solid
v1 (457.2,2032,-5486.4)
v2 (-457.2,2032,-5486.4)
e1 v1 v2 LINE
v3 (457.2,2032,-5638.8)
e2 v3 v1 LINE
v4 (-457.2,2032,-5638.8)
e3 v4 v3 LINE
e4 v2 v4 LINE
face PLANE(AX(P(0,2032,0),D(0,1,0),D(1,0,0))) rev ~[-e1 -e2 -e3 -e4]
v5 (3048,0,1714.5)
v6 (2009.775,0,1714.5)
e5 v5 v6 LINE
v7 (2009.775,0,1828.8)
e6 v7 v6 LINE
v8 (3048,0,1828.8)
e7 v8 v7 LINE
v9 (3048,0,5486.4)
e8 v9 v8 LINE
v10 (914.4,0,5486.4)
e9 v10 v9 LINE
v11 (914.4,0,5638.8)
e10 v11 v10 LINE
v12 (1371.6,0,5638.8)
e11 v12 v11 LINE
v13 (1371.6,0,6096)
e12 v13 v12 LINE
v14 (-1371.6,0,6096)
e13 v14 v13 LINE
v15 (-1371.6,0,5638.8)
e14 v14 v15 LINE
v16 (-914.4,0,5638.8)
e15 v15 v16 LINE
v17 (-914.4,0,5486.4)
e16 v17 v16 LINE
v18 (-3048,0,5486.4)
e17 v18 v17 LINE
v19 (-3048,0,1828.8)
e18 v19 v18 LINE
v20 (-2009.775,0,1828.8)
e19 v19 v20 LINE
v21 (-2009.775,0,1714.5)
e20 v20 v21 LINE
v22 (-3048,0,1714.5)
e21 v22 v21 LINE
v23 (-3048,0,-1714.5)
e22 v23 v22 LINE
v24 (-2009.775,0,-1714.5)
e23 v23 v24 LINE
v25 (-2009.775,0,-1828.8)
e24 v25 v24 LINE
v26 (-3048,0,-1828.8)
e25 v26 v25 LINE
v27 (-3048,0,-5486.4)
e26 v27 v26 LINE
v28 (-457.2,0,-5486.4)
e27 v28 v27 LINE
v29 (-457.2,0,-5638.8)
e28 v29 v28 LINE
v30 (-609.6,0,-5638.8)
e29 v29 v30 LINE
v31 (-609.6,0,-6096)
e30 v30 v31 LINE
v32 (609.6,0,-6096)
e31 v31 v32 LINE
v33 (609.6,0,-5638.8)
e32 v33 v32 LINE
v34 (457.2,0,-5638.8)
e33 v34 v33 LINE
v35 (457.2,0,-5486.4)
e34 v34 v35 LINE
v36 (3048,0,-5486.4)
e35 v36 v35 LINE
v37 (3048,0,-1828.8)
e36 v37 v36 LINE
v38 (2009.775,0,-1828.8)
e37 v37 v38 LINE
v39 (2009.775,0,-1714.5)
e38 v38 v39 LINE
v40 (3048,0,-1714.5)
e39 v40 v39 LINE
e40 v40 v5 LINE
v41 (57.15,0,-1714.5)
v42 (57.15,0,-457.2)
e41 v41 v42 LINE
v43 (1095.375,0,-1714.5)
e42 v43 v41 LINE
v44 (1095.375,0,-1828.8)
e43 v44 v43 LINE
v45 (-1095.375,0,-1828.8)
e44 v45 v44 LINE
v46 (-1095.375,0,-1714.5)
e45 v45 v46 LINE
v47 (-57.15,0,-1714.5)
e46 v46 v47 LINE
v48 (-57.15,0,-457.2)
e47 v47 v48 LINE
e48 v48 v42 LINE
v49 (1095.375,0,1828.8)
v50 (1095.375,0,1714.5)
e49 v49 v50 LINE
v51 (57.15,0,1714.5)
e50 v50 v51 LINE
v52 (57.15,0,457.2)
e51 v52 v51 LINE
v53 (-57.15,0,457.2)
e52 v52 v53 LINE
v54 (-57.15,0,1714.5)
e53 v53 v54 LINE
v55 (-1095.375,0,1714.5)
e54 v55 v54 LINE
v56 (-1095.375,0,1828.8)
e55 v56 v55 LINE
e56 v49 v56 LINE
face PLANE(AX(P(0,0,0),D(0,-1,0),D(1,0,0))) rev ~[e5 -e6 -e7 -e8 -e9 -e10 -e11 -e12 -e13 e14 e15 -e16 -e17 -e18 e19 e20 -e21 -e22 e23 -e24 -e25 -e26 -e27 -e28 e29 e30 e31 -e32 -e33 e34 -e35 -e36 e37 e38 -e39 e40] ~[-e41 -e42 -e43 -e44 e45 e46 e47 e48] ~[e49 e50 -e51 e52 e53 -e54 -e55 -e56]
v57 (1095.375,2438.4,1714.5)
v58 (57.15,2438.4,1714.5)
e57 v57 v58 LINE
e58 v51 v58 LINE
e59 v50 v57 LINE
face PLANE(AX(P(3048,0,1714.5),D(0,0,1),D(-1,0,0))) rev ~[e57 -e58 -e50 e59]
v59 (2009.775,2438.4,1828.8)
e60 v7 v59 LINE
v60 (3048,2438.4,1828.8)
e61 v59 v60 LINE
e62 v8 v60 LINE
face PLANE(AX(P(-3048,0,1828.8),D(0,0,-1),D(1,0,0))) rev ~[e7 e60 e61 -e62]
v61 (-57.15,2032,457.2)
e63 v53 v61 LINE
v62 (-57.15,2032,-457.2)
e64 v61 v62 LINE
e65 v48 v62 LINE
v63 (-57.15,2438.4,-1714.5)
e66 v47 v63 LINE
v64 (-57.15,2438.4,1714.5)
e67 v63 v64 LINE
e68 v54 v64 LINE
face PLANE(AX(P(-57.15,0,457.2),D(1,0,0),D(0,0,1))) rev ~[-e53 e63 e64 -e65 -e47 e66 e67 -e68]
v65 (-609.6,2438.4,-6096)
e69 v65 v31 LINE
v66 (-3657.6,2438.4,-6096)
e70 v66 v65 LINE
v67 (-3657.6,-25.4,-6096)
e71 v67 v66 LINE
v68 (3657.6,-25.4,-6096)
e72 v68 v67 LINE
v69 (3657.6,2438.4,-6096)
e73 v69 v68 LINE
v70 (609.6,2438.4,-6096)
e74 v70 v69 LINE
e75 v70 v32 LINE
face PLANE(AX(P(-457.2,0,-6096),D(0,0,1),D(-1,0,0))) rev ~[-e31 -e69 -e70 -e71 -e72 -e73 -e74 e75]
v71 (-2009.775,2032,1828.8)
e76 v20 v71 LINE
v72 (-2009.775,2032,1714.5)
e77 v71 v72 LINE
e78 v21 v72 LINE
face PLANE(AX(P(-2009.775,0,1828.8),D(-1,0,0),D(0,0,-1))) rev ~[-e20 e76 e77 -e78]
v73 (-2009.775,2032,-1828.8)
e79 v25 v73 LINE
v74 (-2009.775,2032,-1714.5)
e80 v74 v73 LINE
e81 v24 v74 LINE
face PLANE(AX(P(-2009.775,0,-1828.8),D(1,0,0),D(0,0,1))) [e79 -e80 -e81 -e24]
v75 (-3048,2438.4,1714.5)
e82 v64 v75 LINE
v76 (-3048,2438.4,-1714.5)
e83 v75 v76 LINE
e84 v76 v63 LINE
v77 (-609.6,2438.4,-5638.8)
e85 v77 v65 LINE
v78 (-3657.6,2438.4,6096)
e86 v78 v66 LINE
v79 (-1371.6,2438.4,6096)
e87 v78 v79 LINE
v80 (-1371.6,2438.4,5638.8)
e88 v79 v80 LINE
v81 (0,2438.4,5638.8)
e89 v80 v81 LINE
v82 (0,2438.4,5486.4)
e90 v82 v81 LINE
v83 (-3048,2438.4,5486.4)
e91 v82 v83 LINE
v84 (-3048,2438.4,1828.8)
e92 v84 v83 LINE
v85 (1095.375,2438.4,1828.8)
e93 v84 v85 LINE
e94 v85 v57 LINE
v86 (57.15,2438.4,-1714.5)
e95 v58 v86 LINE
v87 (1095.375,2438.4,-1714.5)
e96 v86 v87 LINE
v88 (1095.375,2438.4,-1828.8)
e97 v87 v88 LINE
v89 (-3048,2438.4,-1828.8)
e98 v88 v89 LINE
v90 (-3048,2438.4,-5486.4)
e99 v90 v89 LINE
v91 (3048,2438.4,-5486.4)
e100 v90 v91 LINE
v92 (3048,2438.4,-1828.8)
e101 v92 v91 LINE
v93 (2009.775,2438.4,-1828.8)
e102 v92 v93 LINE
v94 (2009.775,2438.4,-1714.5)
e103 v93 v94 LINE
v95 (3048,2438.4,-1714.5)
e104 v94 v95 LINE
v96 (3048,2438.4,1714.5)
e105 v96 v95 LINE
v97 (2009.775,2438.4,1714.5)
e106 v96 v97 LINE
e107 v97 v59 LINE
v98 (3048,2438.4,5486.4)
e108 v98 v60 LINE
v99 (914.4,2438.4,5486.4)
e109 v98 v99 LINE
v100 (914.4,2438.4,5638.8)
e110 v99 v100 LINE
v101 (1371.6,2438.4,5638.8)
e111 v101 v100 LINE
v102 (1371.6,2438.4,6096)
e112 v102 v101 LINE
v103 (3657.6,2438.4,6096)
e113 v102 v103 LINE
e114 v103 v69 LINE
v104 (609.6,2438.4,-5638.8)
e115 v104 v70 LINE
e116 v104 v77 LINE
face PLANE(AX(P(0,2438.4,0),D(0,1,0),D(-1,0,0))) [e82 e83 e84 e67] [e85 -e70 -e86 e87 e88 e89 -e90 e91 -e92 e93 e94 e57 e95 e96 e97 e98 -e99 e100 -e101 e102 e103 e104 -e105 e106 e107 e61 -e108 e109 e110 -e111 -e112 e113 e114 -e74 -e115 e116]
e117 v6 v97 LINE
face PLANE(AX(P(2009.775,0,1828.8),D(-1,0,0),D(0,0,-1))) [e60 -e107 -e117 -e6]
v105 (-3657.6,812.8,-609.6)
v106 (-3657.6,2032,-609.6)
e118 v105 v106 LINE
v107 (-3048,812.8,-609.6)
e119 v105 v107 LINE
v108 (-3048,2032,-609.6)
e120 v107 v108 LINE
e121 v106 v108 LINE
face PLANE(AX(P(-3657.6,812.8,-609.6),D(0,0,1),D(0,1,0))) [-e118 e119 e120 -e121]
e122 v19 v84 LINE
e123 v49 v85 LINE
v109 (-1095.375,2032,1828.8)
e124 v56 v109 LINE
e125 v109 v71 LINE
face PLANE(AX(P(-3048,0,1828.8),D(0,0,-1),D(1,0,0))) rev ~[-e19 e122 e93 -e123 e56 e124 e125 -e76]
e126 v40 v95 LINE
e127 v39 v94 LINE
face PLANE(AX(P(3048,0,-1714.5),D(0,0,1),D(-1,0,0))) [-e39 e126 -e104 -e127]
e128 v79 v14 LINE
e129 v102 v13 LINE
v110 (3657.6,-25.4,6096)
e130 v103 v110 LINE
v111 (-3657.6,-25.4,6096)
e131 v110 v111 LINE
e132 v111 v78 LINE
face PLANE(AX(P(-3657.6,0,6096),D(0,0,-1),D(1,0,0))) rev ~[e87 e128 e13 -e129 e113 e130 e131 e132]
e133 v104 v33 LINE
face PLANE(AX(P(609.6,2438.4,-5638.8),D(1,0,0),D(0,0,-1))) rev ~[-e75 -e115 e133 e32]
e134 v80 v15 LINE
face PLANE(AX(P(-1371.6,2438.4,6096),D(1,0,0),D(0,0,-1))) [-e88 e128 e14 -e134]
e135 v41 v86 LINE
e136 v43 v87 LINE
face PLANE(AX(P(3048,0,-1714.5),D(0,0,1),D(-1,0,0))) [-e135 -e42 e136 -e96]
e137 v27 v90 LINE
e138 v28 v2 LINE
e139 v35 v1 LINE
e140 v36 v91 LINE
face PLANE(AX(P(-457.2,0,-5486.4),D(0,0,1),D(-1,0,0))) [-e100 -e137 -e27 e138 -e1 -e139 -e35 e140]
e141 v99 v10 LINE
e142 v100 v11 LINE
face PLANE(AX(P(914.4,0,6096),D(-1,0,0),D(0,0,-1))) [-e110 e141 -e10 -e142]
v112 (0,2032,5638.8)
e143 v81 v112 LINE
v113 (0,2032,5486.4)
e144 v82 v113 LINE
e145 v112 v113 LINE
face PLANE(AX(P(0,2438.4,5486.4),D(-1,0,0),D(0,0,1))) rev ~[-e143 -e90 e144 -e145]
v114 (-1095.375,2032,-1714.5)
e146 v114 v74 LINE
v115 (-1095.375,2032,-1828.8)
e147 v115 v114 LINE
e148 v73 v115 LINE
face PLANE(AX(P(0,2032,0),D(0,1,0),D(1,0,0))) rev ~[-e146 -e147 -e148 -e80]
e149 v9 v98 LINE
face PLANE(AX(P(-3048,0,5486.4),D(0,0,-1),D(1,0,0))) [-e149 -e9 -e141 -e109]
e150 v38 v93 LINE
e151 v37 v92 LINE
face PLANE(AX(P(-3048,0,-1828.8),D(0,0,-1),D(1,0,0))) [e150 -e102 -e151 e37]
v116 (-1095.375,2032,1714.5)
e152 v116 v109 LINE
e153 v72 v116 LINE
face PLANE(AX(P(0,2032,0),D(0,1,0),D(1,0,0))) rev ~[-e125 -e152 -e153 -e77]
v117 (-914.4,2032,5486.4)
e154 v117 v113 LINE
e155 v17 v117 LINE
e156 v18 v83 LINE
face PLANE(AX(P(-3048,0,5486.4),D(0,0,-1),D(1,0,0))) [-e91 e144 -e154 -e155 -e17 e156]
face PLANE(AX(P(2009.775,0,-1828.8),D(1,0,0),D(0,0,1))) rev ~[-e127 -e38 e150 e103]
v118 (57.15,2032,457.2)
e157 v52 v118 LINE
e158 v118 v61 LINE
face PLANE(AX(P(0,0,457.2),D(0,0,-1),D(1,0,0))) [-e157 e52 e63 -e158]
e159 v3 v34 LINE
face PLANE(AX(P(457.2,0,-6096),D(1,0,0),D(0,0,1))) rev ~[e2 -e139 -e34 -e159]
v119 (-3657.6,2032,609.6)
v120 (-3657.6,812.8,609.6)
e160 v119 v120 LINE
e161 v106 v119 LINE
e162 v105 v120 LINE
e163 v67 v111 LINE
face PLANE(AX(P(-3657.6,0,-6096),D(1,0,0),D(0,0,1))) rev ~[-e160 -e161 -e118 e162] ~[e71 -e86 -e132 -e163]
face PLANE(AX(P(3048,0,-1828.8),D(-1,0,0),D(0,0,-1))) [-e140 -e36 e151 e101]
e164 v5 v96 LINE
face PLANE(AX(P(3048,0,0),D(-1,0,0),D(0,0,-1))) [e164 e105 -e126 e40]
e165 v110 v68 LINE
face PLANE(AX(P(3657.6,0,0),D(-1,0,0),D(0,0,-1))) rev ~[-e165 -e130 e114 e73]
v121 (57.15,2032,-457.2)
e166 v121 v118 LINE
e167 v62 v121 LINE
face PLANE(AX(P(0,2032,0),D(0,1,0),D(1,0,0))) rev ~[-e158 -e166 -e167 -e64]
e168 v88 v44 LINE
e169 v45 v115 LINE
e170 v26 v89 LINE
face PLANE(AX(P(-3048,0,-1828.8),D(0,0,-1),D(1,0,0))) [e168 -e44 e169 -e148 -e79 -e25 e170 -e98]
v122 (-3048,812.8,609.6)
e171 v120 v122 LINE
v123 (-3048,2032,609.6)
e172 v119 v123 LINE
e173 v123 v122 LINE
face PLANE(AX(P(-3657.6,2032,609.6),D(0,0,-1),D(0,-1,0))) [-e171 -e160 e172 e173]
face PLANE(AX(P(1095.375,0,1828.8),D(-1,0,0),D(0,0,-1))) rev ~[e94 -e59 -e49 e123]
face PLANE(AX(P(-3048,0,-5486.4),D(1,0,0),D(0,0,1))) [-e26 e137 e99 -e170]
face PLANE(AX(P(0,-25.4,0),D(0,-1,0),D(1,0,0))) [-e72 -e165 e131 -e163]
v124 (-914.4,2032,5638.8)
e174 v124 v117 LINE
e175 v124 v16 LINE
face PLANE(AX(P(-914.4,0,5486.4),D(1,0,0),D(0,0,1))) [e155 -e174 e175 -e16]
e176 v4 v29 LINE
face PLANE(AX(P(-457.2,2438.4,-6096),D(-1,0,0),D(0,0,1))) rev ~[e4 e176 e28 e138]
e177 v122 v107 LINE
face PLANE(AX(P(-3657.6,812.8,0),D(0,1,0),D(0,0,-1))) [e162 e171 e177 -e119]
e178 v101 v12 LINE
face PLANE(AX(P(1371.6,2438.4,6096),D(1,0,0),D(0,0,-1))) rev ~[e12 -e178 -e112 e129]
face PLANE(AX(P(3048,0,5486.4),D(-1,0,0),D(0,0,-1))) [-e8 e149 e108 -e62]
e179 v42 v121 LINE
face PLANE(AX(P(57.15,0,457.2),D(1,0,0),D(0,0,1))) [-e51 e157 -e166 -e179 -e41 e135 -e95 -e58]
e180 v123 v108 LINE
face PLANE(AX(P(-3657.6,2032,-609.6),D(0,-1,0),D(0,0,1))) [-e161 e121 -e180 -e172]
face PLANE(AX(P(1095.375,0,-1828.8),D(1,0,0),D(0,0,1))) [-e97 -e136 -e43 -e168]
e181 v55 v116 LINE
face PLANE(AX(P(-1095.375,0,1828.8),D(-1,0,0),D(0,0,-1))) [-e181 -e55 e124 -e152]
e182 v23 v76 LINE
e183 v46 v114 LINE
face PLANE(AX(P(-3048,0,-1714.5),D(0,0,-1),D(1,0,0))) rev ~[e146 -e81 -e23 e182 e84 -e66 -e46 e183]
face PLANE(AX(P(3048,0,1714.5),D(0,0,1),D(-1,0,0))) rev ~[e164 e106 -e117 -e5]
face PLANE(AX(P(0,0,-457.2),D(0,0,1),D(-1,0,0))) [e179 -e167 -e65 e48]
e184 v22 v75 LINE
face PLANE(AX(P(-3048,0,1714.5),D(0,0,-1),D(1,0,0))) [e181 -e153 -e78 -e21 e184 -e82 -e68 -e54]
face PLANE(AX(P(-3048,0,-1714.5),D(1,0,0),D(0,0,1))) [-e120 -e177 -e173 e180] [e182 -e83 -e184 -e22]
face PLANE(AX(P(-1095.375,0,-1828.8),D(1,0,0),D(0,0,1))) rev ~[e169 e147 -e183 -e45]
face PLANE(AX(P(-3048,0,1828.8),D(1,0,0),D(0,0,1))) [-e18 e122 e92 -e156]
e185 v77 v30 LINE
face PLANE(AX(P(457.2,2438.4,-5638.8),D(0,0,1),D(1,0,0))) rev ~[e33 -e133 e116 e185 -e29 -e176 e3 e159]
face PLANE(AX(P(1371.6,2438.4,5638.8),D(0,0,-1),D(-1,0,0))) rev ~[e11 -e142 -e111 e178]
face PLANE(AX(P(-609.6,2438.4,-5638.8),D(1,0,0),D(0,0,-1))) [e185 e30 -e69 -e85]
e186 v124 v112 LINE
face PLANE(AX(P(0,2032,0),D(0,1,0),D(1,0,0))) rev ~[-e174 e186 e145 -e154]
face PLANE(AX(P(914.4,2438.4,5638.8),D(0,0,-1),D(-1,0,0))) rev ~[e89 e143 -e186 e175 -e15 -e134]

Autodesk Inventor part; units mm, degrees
ref_plane "YZ Plane" through (0, 0, 0) normal (1, 0, 0) x (0, 1, 0)
ref_plane "XZ Plane" through (0, 0, 0) normal (0, 1, 0) x (-1, 0, 0)
ref_plane "XY Plane" through (0, 0, 0) normal (0, 0, 1) x (1, 0, 0)
sketch "Sketch1" plane through (0, 0, 0) normal (0, 1, 0) x (-1, 0, 0)
  line L0 (3657.6, -6096) -> (3657.6, 6096)
  line L1 (-3657.6, 6096) -> (-3657.6, -6096)
  line L2 (-5120.64, 0) -> (5120.64, 0) projected
  line L3 (0, -23842.3169) -> (0, 22994.4703) projected
  line L4 (-3048, 1714.5) -> (-3048, -1714.5)
  line L5 (3048, -5486.4) -> (3048, -1828.8)
  line L6 (3048, -1714.5) -> (3048, 1714.5)
  line L7 (3048, 1828.8) -> (3048, 5486.4)
  line L8 (-3048, -1828.8) -> (-3048, -5486.4)
  line L9 (-3048, 5486.4) -> (-3048, 1828.8)
  line L10 (-3048, 1714.5) -> (-3048, -1714.5)
  line L11 (-2009.775, -1828.8) -> (-2009.775, -1714.5)
  line L12 (-1095.375, -1828.8) -> (-1095.375, -1714.5)
  line L13 (-3048, -1714.5) -> (-2009.775, -1714.5)
  line L14 (-1095.375, -1714.5) -> (-57.15, -1714.5)
  line L15 (-3048, -1828.8) -> (-2009.775, -1828.8)
  line L16 (2009.775, -1828.8) -> (2009.775, -1714.5)
  line L17 (1095.375, -1828.8) -> (1095.375, -1714.5)
  line L18 (3048, -1714.5) -> (2009.775, -1714.5)
  line L19 (1095.375, -1714.5) -> (57.15, -1714.5)
  line L20 (3048, -1828.8) -> (2009.775, -1828.8)
  line L21 (1095.375, -1828.8) -> (-1095.375, -1828.8)
  line L22 (-2009.775, -1828.8) -> (-3048, -1828.8)
  line L23 (-1095.375, -1828.8) -> (1095.375, -1828.8)
  line L24 (2009.775, -1828.8) -> (3048, -1828.8)
  line L25 (57.15, -1714.5) -> (1095.375, -1714.5)
  line L26 (2009.775, -1714.5) -> (3048, -1714.5)
  line L27 (-2009.775, 1828.8) -> (-2009.775, 1714.5)
  line L28 (-1095.375, 1828.8) -> (-1095.375, 1714.5)
  line L29 (-3048, 1714.5) -> (-2009.775, 1714.5)
  line L30 (-1095.375, 1714.5) -> (-57.15, 1714.5)
  line L31 (-3048, 1828.8) -> (-2009.775, 1828.8)
  line L32 (3048, 1714.5) -> (2009.775, 1714.5)
  line L33 (3048, 1828.8) -> (2009.775, 1828.8)
  line L34 (2009.775, 1828.8) -> (2009.775, 1714.5)
  line L35 (1095.375, 1828.8) -> (1095.375, 1714.5)
  line L36 (1095.375, 1714.5) -> (57.15, 1714.5)
  line L37 (1095.375, 1828.8) -> (-1095.375, 1828.8)
  line L38 (-2009.775, 1828.8) -> (-3048, 1828.8)
  line L39 (-1095.375, 1828.8) -> (1095.375, 1828.8)
  line L40 (2009.775, 1828.8) -> (3048, 1828.8)
  line L41 (57.15, 1714.5) -> (1095.375, 1714.5)
  line L42 (2009.775, 1714.5) -> (3048, 1714.5)
  line L43 (-57.15, -457.2) -> (57.15, -457.2)
  line L44 (57.15, 457.2) -> (-57.15, 457.2)
  line L45 (-457.2, -6096) -> (-457.2, -5486.4)
  line L46 (457.2, -6096) -> (457.2, -5486.4)
  line L47 (-3048, -5486.4) -> (-457.2, -5486.4)
  line L48 (457.2, -5486.4) -> (3048, -5486.4)
  line L49 (-3657.6, -6096) -> (-457.2, -6096)
  line L50 (457.2, -6096) -> (3657.6, -6096)
  line L51 (914.4, 5486.4) -> (914.4, 6096)
  line L52 (-914.4, 6096) -> (-914.4, 5486.4)
  line L53 (3048, 5486.4) -> (914.4, 5486.4)
  line L54 (-914.4, 5486.4) -> (-3048, 5486.4)
  line L55 (3657.6, 6096) -> (914.4, 6096)
  line L56 (-914.4, 6096) -> (-3657.6, 6096)
  line L57 (-57.15, -1714.5) -> (-57.15, -457.2)
  line L58 (-57.15, 457.2) -> (-57.15, 1714.5)
  line L59 (-57.15, 1714.5) -> (-57.15, 457.2)
  line L60 (-57.15, -457.2) -> (-57.15, -1714.5)
  line L61 (57.15, -1714.5) -> (57.15, -457.2)
  line L62 (57.15, 457.2) -> (57.15, 1714.5)
  line L63 (57.15, 1714.5) -> (57.15, 457.2)
  line L64 (57.15, -457.2) -> (57.15, -1714.5)
  line L65 (-3048, 5486.4) -> (-3048, 1828.8)
  line L66 (-3048, 1828.8) -> (-2009.775, 1828.8)
  line L67 (-2009.775, 1828.8) -> (-2009.775, 1714.5)
  line L68 (-2009.775, 1714.5) -> (-3048, 1714.5)
  line L69 (-3048, 1714.5) -> (-3048, -1714.5)
  line L70 (-3048, -1714.5) -> (-2009.775, -1714.5)
  line L71 (-2009.775, -1714.5) -> (-2009.775, -1828.8)
  line L72 (-2009.775, -1828.8) -> (-3048, -1828.8)
  line L73 (-3048, -1828.8) -> (-3048, -5486.4)
  line L74 (-3048, -5486.4) -> (-457.2, -5486.4)
  line L75 (457.2, -5486.4) -> (3048, -5486.4)
  line L76 (3048, -5486.4) -> (3048, -1828.8)
  line L77 (3048, -1828.8) -> (2009.775, -1828.8)
  line L78 (2009.775, -1828.8) -> (2009.775, -1714.5)
  line L79 (2009.775, -1714.5) -> (3048, -1714.5)
  line L80 (3048, 1714.5) -> (3048, -1714.5)
  line L81 (3048, 1714.5) -> (2009.775, 1714.5)
  line L82 (2009.775, 1714.5) -> (2009.775, 1828.8)
  line L83 (2009.775, 1828.8) -> (3048, 1828.8)
  line L84 (3048, 1828.8) -> (3048, 5486.4)
  point P0 (0, 0)
  point P1 (0, 23842.3169)
  point P2 (0, -22994.4703)
  dimension "d2" = 7315.2
  dimension "d10" = 609.6
  dimension "d13" = 1038.225
  dimension "d14" = 914.4
  dimension "d17" = 114.3
  dimension "d18" = 1038.225
  dimension "d19" = 1038.225
  dimension "d20" = 914.4
  dimension "d21" = 914.4
  dimension "d23" = 609.6
  dimension "d24" = 4267.2
  dimension "d25" = 1828.8
  dimension "d26" = 12192
  dimension "d27" = 609.6
  dimension "d28" = 114.3
extrude "Extrusion1" add sketch "Sketch1" along normal blind 2438.4
sketch "Sketch2" plane through (-3657.6, 0, -6096) normal (-1, 0, 0) x (0, 0, 1)
  line L0 (0, 0) -> (12192, 0) projected
  line L1 (5486.4, 2032) -> (6705.6, 2032)
  line L2 (6705.6, 2032) -> (6705.6, 812.8)
  line L3 (6705.6, 812.8) -> (5486.4, 812.8)
  line L4 (5486.4, 812.8) -> (5486.4, 2032)
  line L5 (6096, 2926.08) -> (6096, -487.68) projected
  point P0 (6096, 0)
  dimension "d31" = 1219.2
  dimension "d33" = 1219.2
  dimension "d34" = 812.8
extrude "Extrusion2" cut sketch "Sketch2" against normal up to surface (609.6 mm away)
sketch "Sketch3" plane through (0, 2438.4, 0) normal (0, 1, 0) x (1, 0, 0)
  line L0 (57.15, 1714.5) -> (1095.375, 1714.5) projected
  line L1 (1095.375, 1714.5) -> (1095.375, 1828.8) projected
  line L2 (1095.375, 1828.8) -> (-1095.375, 1828.8) projected
  line L3 (-1095.375, 1828.8) -> (-1095.375, 1714.5) projected
  line L4 (-1095.375, 1714.5) -> (-57.15, 1714.5) projected
  line L5 (-57.15, 1714.5) -> (-57.15, 457.2) projected
  line L6 (-57.15, 457.2) -> (57.15, 457.2) projected
  line L7 (57.15, 457.2) -> (57.15, 1714.5) projected
  line L8 (-57.15, -1714.5) -> (-1095.375, -1714.5) projected
  line L9 (-1095.375, -1714.5) -> (-1095.375, -1828.8) projected
  line L10 (-1095.375, -1828.8) -> (1095.375, -1828.8) projected
  line L11 (1095.375, -1828.8) -> (1095.375, -1714.5) projected
  line L12 (1095.375, -1714.5) -> (57.15, -1714.5) projected
  line L13 (57.15, -1714.5) -> (57.15, -457.2) projected
  line L14 (57.15, -457.2) -> (-57.15, -457.2) projected
  line L15 (-57.15, -457.2) -> (-57.15, -1714.5) projected
  line L16 (3657.6, 6096) -> (457.2, 6096) projected
  line L17 (457.2, 6096) -> (457.2, 5486.4) projected
  line L18 (457.2, 5486.4) -> (3048, 5486.4) projected
  line L19 (3048, 5486.4) -> (3048, 1828.8) projected
  line L20 (3048, 1828.8) -> (2009.775, 1828.8) projected
  line L21 (2009.775, 1828.8) -> (2009.775, 1714.5) projected
  line L22 (2009.775, 1714.5) -> (3048, 1714.5) projected
  line L23 (3048, 1714.5) -> (3048, -1714.5) projected
  line L24 (3048, -1714.5) -> (2009.775, -1714.5) projected
  line L25 (2009.775, -1714.5) -> (2009.775, -1828.8) projected
  line L26 (2009.775, -1828.8) -> (3048, -1828.8) projected
  line L27 (3048, -1828.8) -> (3048, -5486.4) projected
  line L28 (3048, -5486.4) -> (914.4, -5486.4) projected
  line L29 (914.4, -5486.4) -> (914.4, -6096) projected
  line L30 (914.4, -6096) -> (3657.6, -6096) projected
  line L31 (3657.6, -6096) -> (3657.6, 6096) projected
  line L32 (-457.2, 6096) -> (457.2, 6096)
  line L33 (457.2, 6096) -> (457.2, 5486.4)
  line L34 (457.2, 5486.4) -> (-457.2, 5486.4)
  line L35 (-457.2, 5486.4) -> (-457.2, 6096)
  line L36 (-2009.775, 1828.8) -> (-1095.375, 1828.8)
  line L37 (-1095.375, 1828.8) -> (-1095.375, 1714.5)
  line L38 (-1095.375, 1714.5) -> (-2009.775, 1714.5)
  line L39 (-2009.775, 1714.5) -> (-2009.775, 1828.8)
  line L40 (1095.375, 1828.8) -> (2009.775, 1828.8)
  line L41 (2009.775, 1828.8) -> (2009.775, 1714.5)
  line L42 (2009.775, 1714.5) -> (1095.375, 1714.5)
  line L43 (1095.375, 1714.5) -> (1095.375, 1828.8)
  line L44 (-57.15, 457.2) -> (57.15, 457.2)
  line L45 (57.15, 457.2) -> (57.15, -457.2)
  line L46 (57.15, -457.2) -> (-57.15, -457.2)
  line L47 (-57.15, -457.2) -> (-57.15, 457.2)
  line L48 (1095.375, -1714.5) -> (2009.775, -1714.5)
  line L49 (2009.775, -1714.5) -> (2009.775, -1828.8)
  line L50 (2009.775, -1828.8) -> (1095.375, -1828.8)
  line L51 (1095.375, -1828.8) -> (1095.375, -1714.5)
  line L52 (-2009.775, -1714.5) -> (-1095.375, -1714.5)
  line L53 (-1095.375, -1714.5) -> (-1095.375, -1828.8)
  line L54 (-1095.375, -1828.8) -> (-2009.775, -1828.8)
  line L55 (-2009.775, -1828.8) -> (-2009.775, -1714.5)
  line L56 (-914.4, -5486.4) -> (914.4, -5486.4)
  line L57 (914.4, -5486.4) -> (914.4, -6096)
  line L58 (914.4, -6096) -> (-914.4, -6096)
  line L59 (-914.4, -6096) -> (-914.4, -5486.4)
  line L60 (1095.375, 1828.8) -> (2009.775, 1828.8)
  line L61 (2009.775, 1828.8) -> (2009.775, 1714.5)
  line L62 (2009.775, 1714.5) -> (1095.375, 1714.5)
  line L63 (1095.375, 1714.5) -> (1095.375, 1828.8)
  point P0 (0, 0)
extrude "Extrusion3" add sketch "Sketch3" against normal blind 406.4 contours L1 L40 L21 L42 | L45 L14 L47 L6 | L3 L38 L39 L36 | L48 L25 L50 L11 | L9 L54 L55 L52 | L34 L35 L32 L17 | L29 L58 L59 L56
sketch "Sketch5" plane through (0, 0, 0) normal (0, -1, 0) x (1, 0, 0)
  line L0 (3657.6, -6096) -> (457.2, -6096) projected
  line L1 (3657.6, 6096) -> (3657.6, -6096) projected
  line L2 (914.4, 6096) -> (3657.6, 6096) projected
  line L3 (914.4, 5486.4) -> (914.4, 6096) projected
  line L4 (3048, 5486.4) -> (914.4, 5486.4) projected
  line L5 (3048, 1828.8) -> (3048, 5486.4) projected
  line L6 (2009.775, 1828.8) -> (3048, 1828.8) projected
  line L7 (2009.775, 1714.5) -> (2009.775, 1828.8) projected
  line L8 (3048, 1714.5) -> (2009.775, 1714.5) projected
  line L9 (3048, -1714.5) -> (3048, 1714.5) projected
  line L10 (2009.775, -1714.5) -> (3048, -1714.5) projected
  line L11 (2009.775, -1828.8) -> (2009.775, -1714.5) projected
  line L12 (3048, -1828.8) -> (2009.775, -1828.8) projected
  line L13 (3048, -5486.4) -> (3048, -1828.8) projected
  line L14 (457.2, -5486.4) -> (3048, -5486.4) projected
  line L15 (457.2, -6096) -> (457.2, -5486.4) projected
  line L16 (-3657.6, 6096) -> (3657.6, 6096)
  line L17 (3657.6, 6096) -> (3657.6, -6096)
  line L18 (3657.6, -6096) -> (-3657.6, -6096)
  line L19 (-3657.6, -6096) -> (-3657.6, 6096)
  point P0 (0, 0)
extrude "Extrusion5" add sketch "Sketch5" along normal blind 25.4
sketch "Sketch6" plane through (0, 2438.4, 0) normal (0, 1, 0) x (1, 0, 0)
  line L0 (-3048, 5486.4) -> (3048, 5486.4) projected
  line L1 (3048, -5486.4) -> (-3048, -5486.4) projected
  line L2 (457.2, 5486.4) -> (457.2, 6096) projected
  line L3 (-457.2, 6096) -> (-457.2, 5486.4) projected
  line L4 (-914.4, -6096) -> (-914.4, -5486.4) projected
  line L5 (914.4, -6096) -> (-914.4, -6096) projected
  line L6 (914.4, -5486.4) -> (914.4, -6096) projected
  line L7 (3048, -5486.4) -> (914.4, -5486.4) projected
  line L8 (3048, -1828.8) -> (3048, -5486.4) projected
  line L9 (2009.775, -1828.8) -> (3048, -1828.8) projected
  line L10 (2009.775, -1714.5) -> (2009.775, -1828.8) projected
  line L11 (3048, -1714.5) -> (2009.775, -1714.5) projected
  line L12 (3048, 1714.5) -> (3048, -1714.5) projected
  line L13 (2009.775, 1714.5) -> (3048, 1714.5) projected
  line L14 (2009.775, 1828.8) -> (2009.775, 1714.5) projected
  line L15 (3048, 1828.8) -> (2009.775, 1828.8) projected
  line L16 (3048, 5486.4) -> (3048, 1828.8) projected
  line L17 (457.2, 5486.4) -> (3048, 5486.4) projected
  line L18 (457.2, 6096) -> (457.2, 5486.4) projected
  line L19 (-457.2, 6096) -> (457.2, 6096) projected
  line L20 (-457.2, 5486.4) -> (-457.2, 6096) projected
  line L21 (-3048, 5486.4) -> (-457.2, 5486.4) projected
  line L22 (-3048, 1828.8) -> (-3048, 5486.4) projected
  line L23 (-2009.775, 1828.8) -> (-3048, 1828.8) projected
  line L24 (-2009.775, 1714.5) -> (-2009.775, 1828.8) projected
  line L25 (-3048, 1714.5) -> (-2009.775, 1714.5) projected
  line L26 (-3048, -1714.5) -> (-3048, 1714.5) projected
  line L27 (-2009.775, -1714.5) -> (-3048, -1714.5) projected
  line L28 (-2009.775, -1828.8) -> (-2009.775, -1714.5) projected
  line L29 (-3048, -1828.8) -> (-2009.775, -1828.8) projected
  line L30 (-3048, -5486.4) -> (-3048, -1828.8) projected
  line L31 (-914.4, -5486.4) -> (-3048, -5486.4) projected
  line L32 (1095.375, -1714.5) -> (57.15, -1714.5) projected
  line L33 (1095.375, -1828.8) -> (1095.375, -1714.5) projected
  line L34 (-1095.375, -1828.8) -> (1095.375, -1828.8) projected
  line L35 (-1095.375, -1714.5) -> (-1095.375, -1828.8) projected
  line L36 (-57.15, -1714.5) -> (-1095.375, -1714.5) projected
  line L37 (-57.15, -457.2) -> (-57.15, -1714.5) projected
  line L38 (57.15, -457.2) -> (-57.15, -457.2) projected
  line L39 (57.15, -1714.5) -> (57.15, -457.2) projected
  line L40 (-57.15, 457.2) -> (57.15, 457.2) projected
  line L41 (-57.15, 1714.5) -> (-57.15, 457.2) projected
  line L42 (-1095.375, 1714.5) -> (-57.15, 1714.5) projected
  line L43 (-1095.375, 1828.8) -> (-1095.375, 1714.5) projected
  line L44 (1095.375, 1828.8) -> (-1095.375, 1828.8) projected
  line L45 (1095.375, 1714.5) -> (1095.375, 1828.8) projected
  line L46 (57.15, 1714.5) -> (1095.375, 1714.5) projected
  line L47 (57.15, 457.2) -> (57.15, 1714.5) projected
  line L48 (-457.2, 6096) -> (457.2, 6096)
  line L49 (457.2, 6096) -> (457.2, 5638.8)
  line L50 (457.2, 5638.8) -> (-457.2, 5638.8)
  line L51 (-457.2, 5638.8) -> (-457.2, 6096)
  line L52 (-914.4, -6096) -> (914.4, -6096)
  line L53 (914.4, -6096) -> (914.4, -5638.8)
  line L54 (914.4, -5638.8) -> (-914.4, -5638.8)
  line L55 (-914.4, -5638.8) -> (-914.4, -6096)
  point P0 (0, 0)
  dimension "d46" = 152.4
  dimension "d47" = 152.4
extrude "Extrusion6" cut sketch "Sketch6" against normal up to next contours L3 L19 L2 L50 | L54 L6 L5 L4
sketch "Sketch7" plane through (0, 2438.4, 0) normal (0, 1, 0) x (1, 0, 0)
  line L0 (-914.4, -5638.8) -> (914.4, -5638.8) projected
  line L1 (3048, -5486.4) -> (-3048, -5486.4) projected
  line L2 (0, -5638.8) -> (914.4, -5638.8)
  line L3 (914.4, -5638.8) -> (914.4, -5486.4)
  line L4 (914.4, -5486.4) -> (0, -5486.4)
  line L5 (0, -5486.4) -> (0, -5638.8)
  point P0 (0, 0)
extrude "Extrusion7" cut sketch "Sketch7" against normal up to next
sketch "Sketch8" plane through (0, 2438.4, 0) normal (0, 1, 0) x (1, 0, 0)
  line L0 (3657.6, 6096) -> (457.2, 6096) projected
  line L1 (-457.2, 5638.8) -> (-457.2, 6096) projected
  line L2 (-457.2, 6096) -> (-3657.6, 6096) projected
  line L3 (-914.4, -6096) -> (-914.4, -5638.8) projected
  line L4 (-914.4, -5638.8) -> (0, -5638.8) projected
  line L5 (-914.4, -6096) -> (-1371.6, -6096)
  line L6 (-1371.6, -6096) -> (-1371.6, -5638.8)
  line L7 (-1371.6, -5638.8) -> (-914.4, -5638.8)
  line L8 (-914.4, -5638.8) -> (-914.4, -6096)
  line L9 (914.4, -6096) -> (1371.6, -6096)
  line L10 (1371.6, -6096) -> (1371.6, -5638.8)
  line L11 (1371.6, -5638.8) -> (914.4, -5638.8)
  line L12 (914.4, -5638.8) -> (914.4, -6096)
  line L13 (457.2, 5638.8) -> (609.6, 5638.8)
  line L14 (609.6, 5638.8) -> (609.6, 6096)
  line L15 (609.6, 6096) -> (457.2, 6096)
  line L16 (457.2, 6096) -> (457.2, 5638.8)
  line L17 (-457.2, 5638.8) -> (-609.6, 5638.8)
  line L18 (-609.6, 5638.8) -> (-609.6, 6096)
  line L19 (-609.6, 6096) -> (-457.2, 6096)
  line L20 (-457.2, 6096) -> (-457.2, 5638.8)
  point P0 (0, 0)
  dimension "d52" = 457.2
  dimension "d53" = 457.2
  dimension "d54" = 152.4
  dimension "d55" = 152.4
extrude "Extrusion8" cut sketch "Sketch8" against normal up to surface (2438.4 mm away)
sketch "Sketch9" plane through (0, 2438.4, 0) normal (0, 1, 0) x (1, 0, 0)
  line L0 (1095.375, -1714.5) -> (57.15, -1714.5) projected
  line L1 (1095.375, -1828.8) -> (1095.375, -1714.5) projected
  line L2 (-1095.375, -1828.8) -> (1095.375, -1828.8) projected
  line L3 (-1095.375, -1714.5) -> (-1095.375, -1828.8) projected
  line L4 (-57.15, -1714.5) -> (-1095.375, -1714.5) projected
  line L5 (-57.15, -457.2) -> (-57.15, -1714.5) projected
  line L6 (57.15, -457.2) -> (-57.15, -457.2) projected
  line L7 (57.15, -1714.5) -> (57.15, -457.2) projected
  line L8 (-57.15, 457.2) -> (57.15, 457.2) projected
  line L9 (-57.15, 1714.5) -> (-57.15, 457.2) projected
  line L10 (-1095.375, 1714.5) -> (-57.15, 1714.5) projected
  line L11 (-1095.375, 1828.8) -> (-1095.375, 1714.5) projected
  line L12 (1095.375, 1828.8) -> (-1095.375, 1828.8) projected
  line L13 (1095.375, 1714.5) -> (1095.375, 1828.8) projected
  line L14 (57.15, 1714.5) -> (1095.375, 1714.5) projected
  line L15 (57.15, 457.2) -> (57.15, 1714.5) projected
  line L16 (914.4, -5486.4) -> (914.4, -5638.8) projected
  line L17 (3048, -5486.4) -> (914.4, -5486.4) projected
  line L18 (3048, -1828.8) -> (3048, -5486.4) projected
  line L19 (2009.775, -1828.8) -> (3048, -1828.8) projected
  line L20 (2009.775, -1714.5) -> (2009.775, -1828.8) projected
  line L21 (3048, -1714.5) -> (2009.775, -1714.5) projected
  line L22 (3048, 1714.5) -> (3048, -1714.5) projected
  line L23 (2009.775, 1714.5) -> (3048, 1714.5) projected
  line L24 (2009.775, 1828.8) -> (2009.775, 1714.5) projected
  line L25 (3048, 1828.8) -> (2009.775, 1828.8) projected
  line L26 (3048, 5486.4) -> (3048, 1828.8) projected
  line L27 (457.2, 5486.4) -> (3048, 5486.4) projected
  line L28 (457.2, 5638.8) -> (457.2, 5486.4) projected
  line L29 (609.6, 5638.8) -> (457.2, 5638.8) projected
  line L30 (609.6, 6096) -> (609.6, 5638.8) projected
  line L31 (-609.6, 6096) -> (609.6, 6096) projected
  line L32 (-609.6, 5638.8) -> (-609.6, 6096) projected
  line L33 (-457.2, 5638.8) -> (-609.6, 5638.8) projected
  line L34 (-457.2, 5486.4) -> (-457.2, 5638.8) projected
  line L35 (-3048, 5486.4) -> (-457.2, 5486.4) projected
  line L36 (-3048, 1828.8) -> (-3048, 5486.4) projected
  line L37 (-2009.775, 1828.8) -> (-3048, 1828.8) projected
  line L38 (-2009.775, 1714.5) -> (-2009.775, 1828.8) projected
  line L39 (-3048, 1714.5) -> (-2009.775, 1714.5) projected
  line L40 (-3048, -1714.5) -> (-3048, 1714.5) projected
  line L41 (-2009.775, -1714.5) -> (-3048, -1714.5) projected
  line L42 (-2009.775, -1828.8) -> (-2009.775, -1714.5) projected
  line L43 (-3048, -1828.8) -> (-2009.775, -1828.8) projected
  line L44 (-3048, -5486.4) -> (-3048, -1828.8) projected
  line L45 (-914.4, -5486.4) -> (-3048, -5486.4) projected
  line L46 (-914.4, -5638.8) -> (-914.4, -5486.4) projected
  line L47 (-1371.6, -5638.8) -> (-914.4, -5638.8) projected
  line L48 (-1371.6, -6096) -> (-1371.6, -5638.8) projected
  line L49 (1371.6, -6096) -> (-1371.6, -6096) projected
  line L50 (1371.6, -5638.8) -> (1371.6, -6096) projected
  line L51 (914.4, -5638.8) -> (1371.6, -5638.8) projected
  line L52 (1095.375, 1828.8) -> (2009.775, 1828.8)
  line L53 (2009.775, 1828.8) -> (2009.775, 1714.5)
  line L54 (2009.775, 1714.5) -> (1095.375, 1714.5)
  line L55 (1095.375, 1714.5) -> (1095.375, 1828.8)
  line L56 (1095.375, -1714.5) -> (2009.775, -1714.5)
  line L57 (2009.775, -1714.5) -> (2009.775, -1828.8)
  line L58 (2009.775, -1828.8) -> (1095.375, -1828.8)
  line L59 (1095.375, -1828.8) -> (1095.375, -1714.5)
  point P0 (0, 0)
extrude "Extrusion9" cut sketch "Sketch9" against normal up to next contours L56 L20 L58 L1 | L54 L13 L52 L24
sketch "Open Doors" plane through (0, 0, 0) normal (0, 1, 0) x (1, 0, 0)
  line L0 (2009.775, -1714.5) -> (2009.775, -1828.8) projected
  line L1 (3048, -1714.5) -> (2009.775, -1714.5) projected
  line L2 (3048, 1714.5) -> (3048, -1714.5) projected
  line L3 (2009.775, 1714.5) -> (3048, 1714.5) projected
  line L4 (2009.775, 1828.8) -> (2009.775, 1714.5) projected
  line L5 (3048, 1828.8) -> (2009.775, 1828.8) projected
  line L6 (3048, 5486.4) -> (3048, 1828.8) projected
  line L7 (457.2, 5486.4) -> (3048, 5486.4) projected
  line L8 (457.2, 5638.8) -> (457.2, 5486.4) projected
  line L9 (609.6, 5638.8) -> (457.2, 5638.8) projected
  line L10 (609.6, 6096) -> (609.6, 5638.8) projected
  line L11 (-609.6, 6096) -> (609.6, 6096) projected
  line L12 (-609.6, 5638.8) -> (-609.6, 6096) projected
  line L13 (-457.2, 5638.8) -> (-609.6, 5638.8) projected
  line L14 (-457.2, 5486.4) -> (-457.2, 5638.8) projected
  line L15 (-3048, 5486.4) -> (-457.2, 5486.4) projected
  line L16 (-3048, 1828.8) -> (-3048, 5486.4) projected
  line L17 (-2009.775, 1828.8) -> (-3048, 1828.8) projected
  line L18 (-2009.775, 1714.5) -> (-2009.775, 1828.8) projected
  line L19 (-3048, 1714.5) -> (-2009.775, 1714.5) projected
  line L20 (-3048, -1714.5) -> (-3048, 1714.5) projected
  line L21 (-2009.775, -1714.5) -> (-3048, -1714.5) projected
  line L22 (-2009.775, -1828.8) -> (-2009.775, -1714.5) projected
  line L23 (-3048, -1828.8) -> (-2009.775, -1828.8) projected
  line L24 (-3048, -5486.4) -> (-3048, -1828.8) projected
  line L25 (-914.4, -5486.4) -> (-3048, -5486.4) projected
  line L26 (-914.4, -5638.8) -> (-914.4, -5486.4) projected
  line L27 (-1371.6, -5638.8) -> (-914.4, -5638.8) projected
  line L28 (-1371.6, -6096) -> (-1371.6, -5638.8) projected
  line L29 (1371.6, -6096) -> (-1371.6, -6096) projected
  line L30 (1371.6, -5638.8) -> (1371.6, -6096) projected
  line L31 (914.4, -5638.8) -> (1371.6, -5638.8) projected
  line L32 (914.4, -5486.4) -> (914.4, -5638.8) projected
  line L33 (3048, -5486.4) -> (914.4, -5486.4) projected
  line L34 (3048, -1828.8) -> (3048, -5486.4) projected
  line L35 (2009.775, -1828.8) -> (3048, -1828.8) projected
  line L36 (57.15, 1714.5) -> (1095.375, 1714.5) projected
  line L37 (57.15, 457.2) -> (57.15, 1714.5) projected
  line L38 (-57.15, 457.2) -> (57.15, 457.2) projected
  line L39 (-57.15, 1714.5) -> (-57.15, 457.2) projected
  line L40 (-1095.375, 1714.5) -> (-57.15, 1714.5) projected
  line L41 (-1095.375, 1828.8) -> (-1095.375, 1714.5) projected
  line L42 (1095.375, 1828.8) -> (-1095.375, 1828.8) projected
  line L43 (1095.375, 1714.5) -> (1095.375, 1828.8) projected
  line L44 (-1095.375, -1828.8) -> (1095.375, -1828.8) projected
  line L45 (-1095.375, -1714.5) -> (-1095.375, -1828.8) projected
  line L46 (-57.15, -1714.5) -> (-1095.375, -1714.5) projected
  line L47 (-57.15, -457.2) -> (-57.15, -1714.5) projected
  line L48 (57.15, -457.2) -> (-57.15, -457.2) projected
  line L49 (57.15, -1714.5) -> (57.15, -457.2) projected
  line L50 (1095.375, -1714.5) -> (57.15, -1714.5) projected
  line L51 (1095.375, -1828.8) -> (1095.375, -1714.5) projected
  line L52 (457.2, 5638.8) -> (746.3587, 6506.276)
  line L53 (746.3587, 6506.276) -> (637.9242, 6542.4208)
  line L54 (637.9242, 6542.4208) -> (348.7655, 5674.9448)
  line L55 (348.7655, 5674.9448) -> (457.2, 5638.8)
  line L56 (914.4, -5638.8) -> (1560.9784, -6285.3784)
  line L57 (1560.9784, -6285.3784) -> (1480.1561, -6366.2007)
  line L58 (1480.1561, -6366.2007) -> (833.5777, -5719.6223)
  line L59 (833.5777, -5719.6223) -> (914.4, -5638.8)
  line L60 (-914.4, -5638.8) -> (-1560.9784, -6285.3784)
  line L61 (-1560.9784, -6285.3784) -> (-1480.1561, -6366.2007)
  line L62 (-1480.1561, -6366.2007) -> (-833.5777, -5719.6223)
  line L63 (-833.5777, -5719.6223) -> (-914.4, -5638.8)
  point P0 (0, 0)
  dimension "d60" = 914.4
  dimension "d62" = 114.3
  dimension "d63" = 914.4
  dimension "d64" = 114.3
  dimension "d65" = 914.4
  dimension "d66" = 114.3
properties part number "East_Structure"
